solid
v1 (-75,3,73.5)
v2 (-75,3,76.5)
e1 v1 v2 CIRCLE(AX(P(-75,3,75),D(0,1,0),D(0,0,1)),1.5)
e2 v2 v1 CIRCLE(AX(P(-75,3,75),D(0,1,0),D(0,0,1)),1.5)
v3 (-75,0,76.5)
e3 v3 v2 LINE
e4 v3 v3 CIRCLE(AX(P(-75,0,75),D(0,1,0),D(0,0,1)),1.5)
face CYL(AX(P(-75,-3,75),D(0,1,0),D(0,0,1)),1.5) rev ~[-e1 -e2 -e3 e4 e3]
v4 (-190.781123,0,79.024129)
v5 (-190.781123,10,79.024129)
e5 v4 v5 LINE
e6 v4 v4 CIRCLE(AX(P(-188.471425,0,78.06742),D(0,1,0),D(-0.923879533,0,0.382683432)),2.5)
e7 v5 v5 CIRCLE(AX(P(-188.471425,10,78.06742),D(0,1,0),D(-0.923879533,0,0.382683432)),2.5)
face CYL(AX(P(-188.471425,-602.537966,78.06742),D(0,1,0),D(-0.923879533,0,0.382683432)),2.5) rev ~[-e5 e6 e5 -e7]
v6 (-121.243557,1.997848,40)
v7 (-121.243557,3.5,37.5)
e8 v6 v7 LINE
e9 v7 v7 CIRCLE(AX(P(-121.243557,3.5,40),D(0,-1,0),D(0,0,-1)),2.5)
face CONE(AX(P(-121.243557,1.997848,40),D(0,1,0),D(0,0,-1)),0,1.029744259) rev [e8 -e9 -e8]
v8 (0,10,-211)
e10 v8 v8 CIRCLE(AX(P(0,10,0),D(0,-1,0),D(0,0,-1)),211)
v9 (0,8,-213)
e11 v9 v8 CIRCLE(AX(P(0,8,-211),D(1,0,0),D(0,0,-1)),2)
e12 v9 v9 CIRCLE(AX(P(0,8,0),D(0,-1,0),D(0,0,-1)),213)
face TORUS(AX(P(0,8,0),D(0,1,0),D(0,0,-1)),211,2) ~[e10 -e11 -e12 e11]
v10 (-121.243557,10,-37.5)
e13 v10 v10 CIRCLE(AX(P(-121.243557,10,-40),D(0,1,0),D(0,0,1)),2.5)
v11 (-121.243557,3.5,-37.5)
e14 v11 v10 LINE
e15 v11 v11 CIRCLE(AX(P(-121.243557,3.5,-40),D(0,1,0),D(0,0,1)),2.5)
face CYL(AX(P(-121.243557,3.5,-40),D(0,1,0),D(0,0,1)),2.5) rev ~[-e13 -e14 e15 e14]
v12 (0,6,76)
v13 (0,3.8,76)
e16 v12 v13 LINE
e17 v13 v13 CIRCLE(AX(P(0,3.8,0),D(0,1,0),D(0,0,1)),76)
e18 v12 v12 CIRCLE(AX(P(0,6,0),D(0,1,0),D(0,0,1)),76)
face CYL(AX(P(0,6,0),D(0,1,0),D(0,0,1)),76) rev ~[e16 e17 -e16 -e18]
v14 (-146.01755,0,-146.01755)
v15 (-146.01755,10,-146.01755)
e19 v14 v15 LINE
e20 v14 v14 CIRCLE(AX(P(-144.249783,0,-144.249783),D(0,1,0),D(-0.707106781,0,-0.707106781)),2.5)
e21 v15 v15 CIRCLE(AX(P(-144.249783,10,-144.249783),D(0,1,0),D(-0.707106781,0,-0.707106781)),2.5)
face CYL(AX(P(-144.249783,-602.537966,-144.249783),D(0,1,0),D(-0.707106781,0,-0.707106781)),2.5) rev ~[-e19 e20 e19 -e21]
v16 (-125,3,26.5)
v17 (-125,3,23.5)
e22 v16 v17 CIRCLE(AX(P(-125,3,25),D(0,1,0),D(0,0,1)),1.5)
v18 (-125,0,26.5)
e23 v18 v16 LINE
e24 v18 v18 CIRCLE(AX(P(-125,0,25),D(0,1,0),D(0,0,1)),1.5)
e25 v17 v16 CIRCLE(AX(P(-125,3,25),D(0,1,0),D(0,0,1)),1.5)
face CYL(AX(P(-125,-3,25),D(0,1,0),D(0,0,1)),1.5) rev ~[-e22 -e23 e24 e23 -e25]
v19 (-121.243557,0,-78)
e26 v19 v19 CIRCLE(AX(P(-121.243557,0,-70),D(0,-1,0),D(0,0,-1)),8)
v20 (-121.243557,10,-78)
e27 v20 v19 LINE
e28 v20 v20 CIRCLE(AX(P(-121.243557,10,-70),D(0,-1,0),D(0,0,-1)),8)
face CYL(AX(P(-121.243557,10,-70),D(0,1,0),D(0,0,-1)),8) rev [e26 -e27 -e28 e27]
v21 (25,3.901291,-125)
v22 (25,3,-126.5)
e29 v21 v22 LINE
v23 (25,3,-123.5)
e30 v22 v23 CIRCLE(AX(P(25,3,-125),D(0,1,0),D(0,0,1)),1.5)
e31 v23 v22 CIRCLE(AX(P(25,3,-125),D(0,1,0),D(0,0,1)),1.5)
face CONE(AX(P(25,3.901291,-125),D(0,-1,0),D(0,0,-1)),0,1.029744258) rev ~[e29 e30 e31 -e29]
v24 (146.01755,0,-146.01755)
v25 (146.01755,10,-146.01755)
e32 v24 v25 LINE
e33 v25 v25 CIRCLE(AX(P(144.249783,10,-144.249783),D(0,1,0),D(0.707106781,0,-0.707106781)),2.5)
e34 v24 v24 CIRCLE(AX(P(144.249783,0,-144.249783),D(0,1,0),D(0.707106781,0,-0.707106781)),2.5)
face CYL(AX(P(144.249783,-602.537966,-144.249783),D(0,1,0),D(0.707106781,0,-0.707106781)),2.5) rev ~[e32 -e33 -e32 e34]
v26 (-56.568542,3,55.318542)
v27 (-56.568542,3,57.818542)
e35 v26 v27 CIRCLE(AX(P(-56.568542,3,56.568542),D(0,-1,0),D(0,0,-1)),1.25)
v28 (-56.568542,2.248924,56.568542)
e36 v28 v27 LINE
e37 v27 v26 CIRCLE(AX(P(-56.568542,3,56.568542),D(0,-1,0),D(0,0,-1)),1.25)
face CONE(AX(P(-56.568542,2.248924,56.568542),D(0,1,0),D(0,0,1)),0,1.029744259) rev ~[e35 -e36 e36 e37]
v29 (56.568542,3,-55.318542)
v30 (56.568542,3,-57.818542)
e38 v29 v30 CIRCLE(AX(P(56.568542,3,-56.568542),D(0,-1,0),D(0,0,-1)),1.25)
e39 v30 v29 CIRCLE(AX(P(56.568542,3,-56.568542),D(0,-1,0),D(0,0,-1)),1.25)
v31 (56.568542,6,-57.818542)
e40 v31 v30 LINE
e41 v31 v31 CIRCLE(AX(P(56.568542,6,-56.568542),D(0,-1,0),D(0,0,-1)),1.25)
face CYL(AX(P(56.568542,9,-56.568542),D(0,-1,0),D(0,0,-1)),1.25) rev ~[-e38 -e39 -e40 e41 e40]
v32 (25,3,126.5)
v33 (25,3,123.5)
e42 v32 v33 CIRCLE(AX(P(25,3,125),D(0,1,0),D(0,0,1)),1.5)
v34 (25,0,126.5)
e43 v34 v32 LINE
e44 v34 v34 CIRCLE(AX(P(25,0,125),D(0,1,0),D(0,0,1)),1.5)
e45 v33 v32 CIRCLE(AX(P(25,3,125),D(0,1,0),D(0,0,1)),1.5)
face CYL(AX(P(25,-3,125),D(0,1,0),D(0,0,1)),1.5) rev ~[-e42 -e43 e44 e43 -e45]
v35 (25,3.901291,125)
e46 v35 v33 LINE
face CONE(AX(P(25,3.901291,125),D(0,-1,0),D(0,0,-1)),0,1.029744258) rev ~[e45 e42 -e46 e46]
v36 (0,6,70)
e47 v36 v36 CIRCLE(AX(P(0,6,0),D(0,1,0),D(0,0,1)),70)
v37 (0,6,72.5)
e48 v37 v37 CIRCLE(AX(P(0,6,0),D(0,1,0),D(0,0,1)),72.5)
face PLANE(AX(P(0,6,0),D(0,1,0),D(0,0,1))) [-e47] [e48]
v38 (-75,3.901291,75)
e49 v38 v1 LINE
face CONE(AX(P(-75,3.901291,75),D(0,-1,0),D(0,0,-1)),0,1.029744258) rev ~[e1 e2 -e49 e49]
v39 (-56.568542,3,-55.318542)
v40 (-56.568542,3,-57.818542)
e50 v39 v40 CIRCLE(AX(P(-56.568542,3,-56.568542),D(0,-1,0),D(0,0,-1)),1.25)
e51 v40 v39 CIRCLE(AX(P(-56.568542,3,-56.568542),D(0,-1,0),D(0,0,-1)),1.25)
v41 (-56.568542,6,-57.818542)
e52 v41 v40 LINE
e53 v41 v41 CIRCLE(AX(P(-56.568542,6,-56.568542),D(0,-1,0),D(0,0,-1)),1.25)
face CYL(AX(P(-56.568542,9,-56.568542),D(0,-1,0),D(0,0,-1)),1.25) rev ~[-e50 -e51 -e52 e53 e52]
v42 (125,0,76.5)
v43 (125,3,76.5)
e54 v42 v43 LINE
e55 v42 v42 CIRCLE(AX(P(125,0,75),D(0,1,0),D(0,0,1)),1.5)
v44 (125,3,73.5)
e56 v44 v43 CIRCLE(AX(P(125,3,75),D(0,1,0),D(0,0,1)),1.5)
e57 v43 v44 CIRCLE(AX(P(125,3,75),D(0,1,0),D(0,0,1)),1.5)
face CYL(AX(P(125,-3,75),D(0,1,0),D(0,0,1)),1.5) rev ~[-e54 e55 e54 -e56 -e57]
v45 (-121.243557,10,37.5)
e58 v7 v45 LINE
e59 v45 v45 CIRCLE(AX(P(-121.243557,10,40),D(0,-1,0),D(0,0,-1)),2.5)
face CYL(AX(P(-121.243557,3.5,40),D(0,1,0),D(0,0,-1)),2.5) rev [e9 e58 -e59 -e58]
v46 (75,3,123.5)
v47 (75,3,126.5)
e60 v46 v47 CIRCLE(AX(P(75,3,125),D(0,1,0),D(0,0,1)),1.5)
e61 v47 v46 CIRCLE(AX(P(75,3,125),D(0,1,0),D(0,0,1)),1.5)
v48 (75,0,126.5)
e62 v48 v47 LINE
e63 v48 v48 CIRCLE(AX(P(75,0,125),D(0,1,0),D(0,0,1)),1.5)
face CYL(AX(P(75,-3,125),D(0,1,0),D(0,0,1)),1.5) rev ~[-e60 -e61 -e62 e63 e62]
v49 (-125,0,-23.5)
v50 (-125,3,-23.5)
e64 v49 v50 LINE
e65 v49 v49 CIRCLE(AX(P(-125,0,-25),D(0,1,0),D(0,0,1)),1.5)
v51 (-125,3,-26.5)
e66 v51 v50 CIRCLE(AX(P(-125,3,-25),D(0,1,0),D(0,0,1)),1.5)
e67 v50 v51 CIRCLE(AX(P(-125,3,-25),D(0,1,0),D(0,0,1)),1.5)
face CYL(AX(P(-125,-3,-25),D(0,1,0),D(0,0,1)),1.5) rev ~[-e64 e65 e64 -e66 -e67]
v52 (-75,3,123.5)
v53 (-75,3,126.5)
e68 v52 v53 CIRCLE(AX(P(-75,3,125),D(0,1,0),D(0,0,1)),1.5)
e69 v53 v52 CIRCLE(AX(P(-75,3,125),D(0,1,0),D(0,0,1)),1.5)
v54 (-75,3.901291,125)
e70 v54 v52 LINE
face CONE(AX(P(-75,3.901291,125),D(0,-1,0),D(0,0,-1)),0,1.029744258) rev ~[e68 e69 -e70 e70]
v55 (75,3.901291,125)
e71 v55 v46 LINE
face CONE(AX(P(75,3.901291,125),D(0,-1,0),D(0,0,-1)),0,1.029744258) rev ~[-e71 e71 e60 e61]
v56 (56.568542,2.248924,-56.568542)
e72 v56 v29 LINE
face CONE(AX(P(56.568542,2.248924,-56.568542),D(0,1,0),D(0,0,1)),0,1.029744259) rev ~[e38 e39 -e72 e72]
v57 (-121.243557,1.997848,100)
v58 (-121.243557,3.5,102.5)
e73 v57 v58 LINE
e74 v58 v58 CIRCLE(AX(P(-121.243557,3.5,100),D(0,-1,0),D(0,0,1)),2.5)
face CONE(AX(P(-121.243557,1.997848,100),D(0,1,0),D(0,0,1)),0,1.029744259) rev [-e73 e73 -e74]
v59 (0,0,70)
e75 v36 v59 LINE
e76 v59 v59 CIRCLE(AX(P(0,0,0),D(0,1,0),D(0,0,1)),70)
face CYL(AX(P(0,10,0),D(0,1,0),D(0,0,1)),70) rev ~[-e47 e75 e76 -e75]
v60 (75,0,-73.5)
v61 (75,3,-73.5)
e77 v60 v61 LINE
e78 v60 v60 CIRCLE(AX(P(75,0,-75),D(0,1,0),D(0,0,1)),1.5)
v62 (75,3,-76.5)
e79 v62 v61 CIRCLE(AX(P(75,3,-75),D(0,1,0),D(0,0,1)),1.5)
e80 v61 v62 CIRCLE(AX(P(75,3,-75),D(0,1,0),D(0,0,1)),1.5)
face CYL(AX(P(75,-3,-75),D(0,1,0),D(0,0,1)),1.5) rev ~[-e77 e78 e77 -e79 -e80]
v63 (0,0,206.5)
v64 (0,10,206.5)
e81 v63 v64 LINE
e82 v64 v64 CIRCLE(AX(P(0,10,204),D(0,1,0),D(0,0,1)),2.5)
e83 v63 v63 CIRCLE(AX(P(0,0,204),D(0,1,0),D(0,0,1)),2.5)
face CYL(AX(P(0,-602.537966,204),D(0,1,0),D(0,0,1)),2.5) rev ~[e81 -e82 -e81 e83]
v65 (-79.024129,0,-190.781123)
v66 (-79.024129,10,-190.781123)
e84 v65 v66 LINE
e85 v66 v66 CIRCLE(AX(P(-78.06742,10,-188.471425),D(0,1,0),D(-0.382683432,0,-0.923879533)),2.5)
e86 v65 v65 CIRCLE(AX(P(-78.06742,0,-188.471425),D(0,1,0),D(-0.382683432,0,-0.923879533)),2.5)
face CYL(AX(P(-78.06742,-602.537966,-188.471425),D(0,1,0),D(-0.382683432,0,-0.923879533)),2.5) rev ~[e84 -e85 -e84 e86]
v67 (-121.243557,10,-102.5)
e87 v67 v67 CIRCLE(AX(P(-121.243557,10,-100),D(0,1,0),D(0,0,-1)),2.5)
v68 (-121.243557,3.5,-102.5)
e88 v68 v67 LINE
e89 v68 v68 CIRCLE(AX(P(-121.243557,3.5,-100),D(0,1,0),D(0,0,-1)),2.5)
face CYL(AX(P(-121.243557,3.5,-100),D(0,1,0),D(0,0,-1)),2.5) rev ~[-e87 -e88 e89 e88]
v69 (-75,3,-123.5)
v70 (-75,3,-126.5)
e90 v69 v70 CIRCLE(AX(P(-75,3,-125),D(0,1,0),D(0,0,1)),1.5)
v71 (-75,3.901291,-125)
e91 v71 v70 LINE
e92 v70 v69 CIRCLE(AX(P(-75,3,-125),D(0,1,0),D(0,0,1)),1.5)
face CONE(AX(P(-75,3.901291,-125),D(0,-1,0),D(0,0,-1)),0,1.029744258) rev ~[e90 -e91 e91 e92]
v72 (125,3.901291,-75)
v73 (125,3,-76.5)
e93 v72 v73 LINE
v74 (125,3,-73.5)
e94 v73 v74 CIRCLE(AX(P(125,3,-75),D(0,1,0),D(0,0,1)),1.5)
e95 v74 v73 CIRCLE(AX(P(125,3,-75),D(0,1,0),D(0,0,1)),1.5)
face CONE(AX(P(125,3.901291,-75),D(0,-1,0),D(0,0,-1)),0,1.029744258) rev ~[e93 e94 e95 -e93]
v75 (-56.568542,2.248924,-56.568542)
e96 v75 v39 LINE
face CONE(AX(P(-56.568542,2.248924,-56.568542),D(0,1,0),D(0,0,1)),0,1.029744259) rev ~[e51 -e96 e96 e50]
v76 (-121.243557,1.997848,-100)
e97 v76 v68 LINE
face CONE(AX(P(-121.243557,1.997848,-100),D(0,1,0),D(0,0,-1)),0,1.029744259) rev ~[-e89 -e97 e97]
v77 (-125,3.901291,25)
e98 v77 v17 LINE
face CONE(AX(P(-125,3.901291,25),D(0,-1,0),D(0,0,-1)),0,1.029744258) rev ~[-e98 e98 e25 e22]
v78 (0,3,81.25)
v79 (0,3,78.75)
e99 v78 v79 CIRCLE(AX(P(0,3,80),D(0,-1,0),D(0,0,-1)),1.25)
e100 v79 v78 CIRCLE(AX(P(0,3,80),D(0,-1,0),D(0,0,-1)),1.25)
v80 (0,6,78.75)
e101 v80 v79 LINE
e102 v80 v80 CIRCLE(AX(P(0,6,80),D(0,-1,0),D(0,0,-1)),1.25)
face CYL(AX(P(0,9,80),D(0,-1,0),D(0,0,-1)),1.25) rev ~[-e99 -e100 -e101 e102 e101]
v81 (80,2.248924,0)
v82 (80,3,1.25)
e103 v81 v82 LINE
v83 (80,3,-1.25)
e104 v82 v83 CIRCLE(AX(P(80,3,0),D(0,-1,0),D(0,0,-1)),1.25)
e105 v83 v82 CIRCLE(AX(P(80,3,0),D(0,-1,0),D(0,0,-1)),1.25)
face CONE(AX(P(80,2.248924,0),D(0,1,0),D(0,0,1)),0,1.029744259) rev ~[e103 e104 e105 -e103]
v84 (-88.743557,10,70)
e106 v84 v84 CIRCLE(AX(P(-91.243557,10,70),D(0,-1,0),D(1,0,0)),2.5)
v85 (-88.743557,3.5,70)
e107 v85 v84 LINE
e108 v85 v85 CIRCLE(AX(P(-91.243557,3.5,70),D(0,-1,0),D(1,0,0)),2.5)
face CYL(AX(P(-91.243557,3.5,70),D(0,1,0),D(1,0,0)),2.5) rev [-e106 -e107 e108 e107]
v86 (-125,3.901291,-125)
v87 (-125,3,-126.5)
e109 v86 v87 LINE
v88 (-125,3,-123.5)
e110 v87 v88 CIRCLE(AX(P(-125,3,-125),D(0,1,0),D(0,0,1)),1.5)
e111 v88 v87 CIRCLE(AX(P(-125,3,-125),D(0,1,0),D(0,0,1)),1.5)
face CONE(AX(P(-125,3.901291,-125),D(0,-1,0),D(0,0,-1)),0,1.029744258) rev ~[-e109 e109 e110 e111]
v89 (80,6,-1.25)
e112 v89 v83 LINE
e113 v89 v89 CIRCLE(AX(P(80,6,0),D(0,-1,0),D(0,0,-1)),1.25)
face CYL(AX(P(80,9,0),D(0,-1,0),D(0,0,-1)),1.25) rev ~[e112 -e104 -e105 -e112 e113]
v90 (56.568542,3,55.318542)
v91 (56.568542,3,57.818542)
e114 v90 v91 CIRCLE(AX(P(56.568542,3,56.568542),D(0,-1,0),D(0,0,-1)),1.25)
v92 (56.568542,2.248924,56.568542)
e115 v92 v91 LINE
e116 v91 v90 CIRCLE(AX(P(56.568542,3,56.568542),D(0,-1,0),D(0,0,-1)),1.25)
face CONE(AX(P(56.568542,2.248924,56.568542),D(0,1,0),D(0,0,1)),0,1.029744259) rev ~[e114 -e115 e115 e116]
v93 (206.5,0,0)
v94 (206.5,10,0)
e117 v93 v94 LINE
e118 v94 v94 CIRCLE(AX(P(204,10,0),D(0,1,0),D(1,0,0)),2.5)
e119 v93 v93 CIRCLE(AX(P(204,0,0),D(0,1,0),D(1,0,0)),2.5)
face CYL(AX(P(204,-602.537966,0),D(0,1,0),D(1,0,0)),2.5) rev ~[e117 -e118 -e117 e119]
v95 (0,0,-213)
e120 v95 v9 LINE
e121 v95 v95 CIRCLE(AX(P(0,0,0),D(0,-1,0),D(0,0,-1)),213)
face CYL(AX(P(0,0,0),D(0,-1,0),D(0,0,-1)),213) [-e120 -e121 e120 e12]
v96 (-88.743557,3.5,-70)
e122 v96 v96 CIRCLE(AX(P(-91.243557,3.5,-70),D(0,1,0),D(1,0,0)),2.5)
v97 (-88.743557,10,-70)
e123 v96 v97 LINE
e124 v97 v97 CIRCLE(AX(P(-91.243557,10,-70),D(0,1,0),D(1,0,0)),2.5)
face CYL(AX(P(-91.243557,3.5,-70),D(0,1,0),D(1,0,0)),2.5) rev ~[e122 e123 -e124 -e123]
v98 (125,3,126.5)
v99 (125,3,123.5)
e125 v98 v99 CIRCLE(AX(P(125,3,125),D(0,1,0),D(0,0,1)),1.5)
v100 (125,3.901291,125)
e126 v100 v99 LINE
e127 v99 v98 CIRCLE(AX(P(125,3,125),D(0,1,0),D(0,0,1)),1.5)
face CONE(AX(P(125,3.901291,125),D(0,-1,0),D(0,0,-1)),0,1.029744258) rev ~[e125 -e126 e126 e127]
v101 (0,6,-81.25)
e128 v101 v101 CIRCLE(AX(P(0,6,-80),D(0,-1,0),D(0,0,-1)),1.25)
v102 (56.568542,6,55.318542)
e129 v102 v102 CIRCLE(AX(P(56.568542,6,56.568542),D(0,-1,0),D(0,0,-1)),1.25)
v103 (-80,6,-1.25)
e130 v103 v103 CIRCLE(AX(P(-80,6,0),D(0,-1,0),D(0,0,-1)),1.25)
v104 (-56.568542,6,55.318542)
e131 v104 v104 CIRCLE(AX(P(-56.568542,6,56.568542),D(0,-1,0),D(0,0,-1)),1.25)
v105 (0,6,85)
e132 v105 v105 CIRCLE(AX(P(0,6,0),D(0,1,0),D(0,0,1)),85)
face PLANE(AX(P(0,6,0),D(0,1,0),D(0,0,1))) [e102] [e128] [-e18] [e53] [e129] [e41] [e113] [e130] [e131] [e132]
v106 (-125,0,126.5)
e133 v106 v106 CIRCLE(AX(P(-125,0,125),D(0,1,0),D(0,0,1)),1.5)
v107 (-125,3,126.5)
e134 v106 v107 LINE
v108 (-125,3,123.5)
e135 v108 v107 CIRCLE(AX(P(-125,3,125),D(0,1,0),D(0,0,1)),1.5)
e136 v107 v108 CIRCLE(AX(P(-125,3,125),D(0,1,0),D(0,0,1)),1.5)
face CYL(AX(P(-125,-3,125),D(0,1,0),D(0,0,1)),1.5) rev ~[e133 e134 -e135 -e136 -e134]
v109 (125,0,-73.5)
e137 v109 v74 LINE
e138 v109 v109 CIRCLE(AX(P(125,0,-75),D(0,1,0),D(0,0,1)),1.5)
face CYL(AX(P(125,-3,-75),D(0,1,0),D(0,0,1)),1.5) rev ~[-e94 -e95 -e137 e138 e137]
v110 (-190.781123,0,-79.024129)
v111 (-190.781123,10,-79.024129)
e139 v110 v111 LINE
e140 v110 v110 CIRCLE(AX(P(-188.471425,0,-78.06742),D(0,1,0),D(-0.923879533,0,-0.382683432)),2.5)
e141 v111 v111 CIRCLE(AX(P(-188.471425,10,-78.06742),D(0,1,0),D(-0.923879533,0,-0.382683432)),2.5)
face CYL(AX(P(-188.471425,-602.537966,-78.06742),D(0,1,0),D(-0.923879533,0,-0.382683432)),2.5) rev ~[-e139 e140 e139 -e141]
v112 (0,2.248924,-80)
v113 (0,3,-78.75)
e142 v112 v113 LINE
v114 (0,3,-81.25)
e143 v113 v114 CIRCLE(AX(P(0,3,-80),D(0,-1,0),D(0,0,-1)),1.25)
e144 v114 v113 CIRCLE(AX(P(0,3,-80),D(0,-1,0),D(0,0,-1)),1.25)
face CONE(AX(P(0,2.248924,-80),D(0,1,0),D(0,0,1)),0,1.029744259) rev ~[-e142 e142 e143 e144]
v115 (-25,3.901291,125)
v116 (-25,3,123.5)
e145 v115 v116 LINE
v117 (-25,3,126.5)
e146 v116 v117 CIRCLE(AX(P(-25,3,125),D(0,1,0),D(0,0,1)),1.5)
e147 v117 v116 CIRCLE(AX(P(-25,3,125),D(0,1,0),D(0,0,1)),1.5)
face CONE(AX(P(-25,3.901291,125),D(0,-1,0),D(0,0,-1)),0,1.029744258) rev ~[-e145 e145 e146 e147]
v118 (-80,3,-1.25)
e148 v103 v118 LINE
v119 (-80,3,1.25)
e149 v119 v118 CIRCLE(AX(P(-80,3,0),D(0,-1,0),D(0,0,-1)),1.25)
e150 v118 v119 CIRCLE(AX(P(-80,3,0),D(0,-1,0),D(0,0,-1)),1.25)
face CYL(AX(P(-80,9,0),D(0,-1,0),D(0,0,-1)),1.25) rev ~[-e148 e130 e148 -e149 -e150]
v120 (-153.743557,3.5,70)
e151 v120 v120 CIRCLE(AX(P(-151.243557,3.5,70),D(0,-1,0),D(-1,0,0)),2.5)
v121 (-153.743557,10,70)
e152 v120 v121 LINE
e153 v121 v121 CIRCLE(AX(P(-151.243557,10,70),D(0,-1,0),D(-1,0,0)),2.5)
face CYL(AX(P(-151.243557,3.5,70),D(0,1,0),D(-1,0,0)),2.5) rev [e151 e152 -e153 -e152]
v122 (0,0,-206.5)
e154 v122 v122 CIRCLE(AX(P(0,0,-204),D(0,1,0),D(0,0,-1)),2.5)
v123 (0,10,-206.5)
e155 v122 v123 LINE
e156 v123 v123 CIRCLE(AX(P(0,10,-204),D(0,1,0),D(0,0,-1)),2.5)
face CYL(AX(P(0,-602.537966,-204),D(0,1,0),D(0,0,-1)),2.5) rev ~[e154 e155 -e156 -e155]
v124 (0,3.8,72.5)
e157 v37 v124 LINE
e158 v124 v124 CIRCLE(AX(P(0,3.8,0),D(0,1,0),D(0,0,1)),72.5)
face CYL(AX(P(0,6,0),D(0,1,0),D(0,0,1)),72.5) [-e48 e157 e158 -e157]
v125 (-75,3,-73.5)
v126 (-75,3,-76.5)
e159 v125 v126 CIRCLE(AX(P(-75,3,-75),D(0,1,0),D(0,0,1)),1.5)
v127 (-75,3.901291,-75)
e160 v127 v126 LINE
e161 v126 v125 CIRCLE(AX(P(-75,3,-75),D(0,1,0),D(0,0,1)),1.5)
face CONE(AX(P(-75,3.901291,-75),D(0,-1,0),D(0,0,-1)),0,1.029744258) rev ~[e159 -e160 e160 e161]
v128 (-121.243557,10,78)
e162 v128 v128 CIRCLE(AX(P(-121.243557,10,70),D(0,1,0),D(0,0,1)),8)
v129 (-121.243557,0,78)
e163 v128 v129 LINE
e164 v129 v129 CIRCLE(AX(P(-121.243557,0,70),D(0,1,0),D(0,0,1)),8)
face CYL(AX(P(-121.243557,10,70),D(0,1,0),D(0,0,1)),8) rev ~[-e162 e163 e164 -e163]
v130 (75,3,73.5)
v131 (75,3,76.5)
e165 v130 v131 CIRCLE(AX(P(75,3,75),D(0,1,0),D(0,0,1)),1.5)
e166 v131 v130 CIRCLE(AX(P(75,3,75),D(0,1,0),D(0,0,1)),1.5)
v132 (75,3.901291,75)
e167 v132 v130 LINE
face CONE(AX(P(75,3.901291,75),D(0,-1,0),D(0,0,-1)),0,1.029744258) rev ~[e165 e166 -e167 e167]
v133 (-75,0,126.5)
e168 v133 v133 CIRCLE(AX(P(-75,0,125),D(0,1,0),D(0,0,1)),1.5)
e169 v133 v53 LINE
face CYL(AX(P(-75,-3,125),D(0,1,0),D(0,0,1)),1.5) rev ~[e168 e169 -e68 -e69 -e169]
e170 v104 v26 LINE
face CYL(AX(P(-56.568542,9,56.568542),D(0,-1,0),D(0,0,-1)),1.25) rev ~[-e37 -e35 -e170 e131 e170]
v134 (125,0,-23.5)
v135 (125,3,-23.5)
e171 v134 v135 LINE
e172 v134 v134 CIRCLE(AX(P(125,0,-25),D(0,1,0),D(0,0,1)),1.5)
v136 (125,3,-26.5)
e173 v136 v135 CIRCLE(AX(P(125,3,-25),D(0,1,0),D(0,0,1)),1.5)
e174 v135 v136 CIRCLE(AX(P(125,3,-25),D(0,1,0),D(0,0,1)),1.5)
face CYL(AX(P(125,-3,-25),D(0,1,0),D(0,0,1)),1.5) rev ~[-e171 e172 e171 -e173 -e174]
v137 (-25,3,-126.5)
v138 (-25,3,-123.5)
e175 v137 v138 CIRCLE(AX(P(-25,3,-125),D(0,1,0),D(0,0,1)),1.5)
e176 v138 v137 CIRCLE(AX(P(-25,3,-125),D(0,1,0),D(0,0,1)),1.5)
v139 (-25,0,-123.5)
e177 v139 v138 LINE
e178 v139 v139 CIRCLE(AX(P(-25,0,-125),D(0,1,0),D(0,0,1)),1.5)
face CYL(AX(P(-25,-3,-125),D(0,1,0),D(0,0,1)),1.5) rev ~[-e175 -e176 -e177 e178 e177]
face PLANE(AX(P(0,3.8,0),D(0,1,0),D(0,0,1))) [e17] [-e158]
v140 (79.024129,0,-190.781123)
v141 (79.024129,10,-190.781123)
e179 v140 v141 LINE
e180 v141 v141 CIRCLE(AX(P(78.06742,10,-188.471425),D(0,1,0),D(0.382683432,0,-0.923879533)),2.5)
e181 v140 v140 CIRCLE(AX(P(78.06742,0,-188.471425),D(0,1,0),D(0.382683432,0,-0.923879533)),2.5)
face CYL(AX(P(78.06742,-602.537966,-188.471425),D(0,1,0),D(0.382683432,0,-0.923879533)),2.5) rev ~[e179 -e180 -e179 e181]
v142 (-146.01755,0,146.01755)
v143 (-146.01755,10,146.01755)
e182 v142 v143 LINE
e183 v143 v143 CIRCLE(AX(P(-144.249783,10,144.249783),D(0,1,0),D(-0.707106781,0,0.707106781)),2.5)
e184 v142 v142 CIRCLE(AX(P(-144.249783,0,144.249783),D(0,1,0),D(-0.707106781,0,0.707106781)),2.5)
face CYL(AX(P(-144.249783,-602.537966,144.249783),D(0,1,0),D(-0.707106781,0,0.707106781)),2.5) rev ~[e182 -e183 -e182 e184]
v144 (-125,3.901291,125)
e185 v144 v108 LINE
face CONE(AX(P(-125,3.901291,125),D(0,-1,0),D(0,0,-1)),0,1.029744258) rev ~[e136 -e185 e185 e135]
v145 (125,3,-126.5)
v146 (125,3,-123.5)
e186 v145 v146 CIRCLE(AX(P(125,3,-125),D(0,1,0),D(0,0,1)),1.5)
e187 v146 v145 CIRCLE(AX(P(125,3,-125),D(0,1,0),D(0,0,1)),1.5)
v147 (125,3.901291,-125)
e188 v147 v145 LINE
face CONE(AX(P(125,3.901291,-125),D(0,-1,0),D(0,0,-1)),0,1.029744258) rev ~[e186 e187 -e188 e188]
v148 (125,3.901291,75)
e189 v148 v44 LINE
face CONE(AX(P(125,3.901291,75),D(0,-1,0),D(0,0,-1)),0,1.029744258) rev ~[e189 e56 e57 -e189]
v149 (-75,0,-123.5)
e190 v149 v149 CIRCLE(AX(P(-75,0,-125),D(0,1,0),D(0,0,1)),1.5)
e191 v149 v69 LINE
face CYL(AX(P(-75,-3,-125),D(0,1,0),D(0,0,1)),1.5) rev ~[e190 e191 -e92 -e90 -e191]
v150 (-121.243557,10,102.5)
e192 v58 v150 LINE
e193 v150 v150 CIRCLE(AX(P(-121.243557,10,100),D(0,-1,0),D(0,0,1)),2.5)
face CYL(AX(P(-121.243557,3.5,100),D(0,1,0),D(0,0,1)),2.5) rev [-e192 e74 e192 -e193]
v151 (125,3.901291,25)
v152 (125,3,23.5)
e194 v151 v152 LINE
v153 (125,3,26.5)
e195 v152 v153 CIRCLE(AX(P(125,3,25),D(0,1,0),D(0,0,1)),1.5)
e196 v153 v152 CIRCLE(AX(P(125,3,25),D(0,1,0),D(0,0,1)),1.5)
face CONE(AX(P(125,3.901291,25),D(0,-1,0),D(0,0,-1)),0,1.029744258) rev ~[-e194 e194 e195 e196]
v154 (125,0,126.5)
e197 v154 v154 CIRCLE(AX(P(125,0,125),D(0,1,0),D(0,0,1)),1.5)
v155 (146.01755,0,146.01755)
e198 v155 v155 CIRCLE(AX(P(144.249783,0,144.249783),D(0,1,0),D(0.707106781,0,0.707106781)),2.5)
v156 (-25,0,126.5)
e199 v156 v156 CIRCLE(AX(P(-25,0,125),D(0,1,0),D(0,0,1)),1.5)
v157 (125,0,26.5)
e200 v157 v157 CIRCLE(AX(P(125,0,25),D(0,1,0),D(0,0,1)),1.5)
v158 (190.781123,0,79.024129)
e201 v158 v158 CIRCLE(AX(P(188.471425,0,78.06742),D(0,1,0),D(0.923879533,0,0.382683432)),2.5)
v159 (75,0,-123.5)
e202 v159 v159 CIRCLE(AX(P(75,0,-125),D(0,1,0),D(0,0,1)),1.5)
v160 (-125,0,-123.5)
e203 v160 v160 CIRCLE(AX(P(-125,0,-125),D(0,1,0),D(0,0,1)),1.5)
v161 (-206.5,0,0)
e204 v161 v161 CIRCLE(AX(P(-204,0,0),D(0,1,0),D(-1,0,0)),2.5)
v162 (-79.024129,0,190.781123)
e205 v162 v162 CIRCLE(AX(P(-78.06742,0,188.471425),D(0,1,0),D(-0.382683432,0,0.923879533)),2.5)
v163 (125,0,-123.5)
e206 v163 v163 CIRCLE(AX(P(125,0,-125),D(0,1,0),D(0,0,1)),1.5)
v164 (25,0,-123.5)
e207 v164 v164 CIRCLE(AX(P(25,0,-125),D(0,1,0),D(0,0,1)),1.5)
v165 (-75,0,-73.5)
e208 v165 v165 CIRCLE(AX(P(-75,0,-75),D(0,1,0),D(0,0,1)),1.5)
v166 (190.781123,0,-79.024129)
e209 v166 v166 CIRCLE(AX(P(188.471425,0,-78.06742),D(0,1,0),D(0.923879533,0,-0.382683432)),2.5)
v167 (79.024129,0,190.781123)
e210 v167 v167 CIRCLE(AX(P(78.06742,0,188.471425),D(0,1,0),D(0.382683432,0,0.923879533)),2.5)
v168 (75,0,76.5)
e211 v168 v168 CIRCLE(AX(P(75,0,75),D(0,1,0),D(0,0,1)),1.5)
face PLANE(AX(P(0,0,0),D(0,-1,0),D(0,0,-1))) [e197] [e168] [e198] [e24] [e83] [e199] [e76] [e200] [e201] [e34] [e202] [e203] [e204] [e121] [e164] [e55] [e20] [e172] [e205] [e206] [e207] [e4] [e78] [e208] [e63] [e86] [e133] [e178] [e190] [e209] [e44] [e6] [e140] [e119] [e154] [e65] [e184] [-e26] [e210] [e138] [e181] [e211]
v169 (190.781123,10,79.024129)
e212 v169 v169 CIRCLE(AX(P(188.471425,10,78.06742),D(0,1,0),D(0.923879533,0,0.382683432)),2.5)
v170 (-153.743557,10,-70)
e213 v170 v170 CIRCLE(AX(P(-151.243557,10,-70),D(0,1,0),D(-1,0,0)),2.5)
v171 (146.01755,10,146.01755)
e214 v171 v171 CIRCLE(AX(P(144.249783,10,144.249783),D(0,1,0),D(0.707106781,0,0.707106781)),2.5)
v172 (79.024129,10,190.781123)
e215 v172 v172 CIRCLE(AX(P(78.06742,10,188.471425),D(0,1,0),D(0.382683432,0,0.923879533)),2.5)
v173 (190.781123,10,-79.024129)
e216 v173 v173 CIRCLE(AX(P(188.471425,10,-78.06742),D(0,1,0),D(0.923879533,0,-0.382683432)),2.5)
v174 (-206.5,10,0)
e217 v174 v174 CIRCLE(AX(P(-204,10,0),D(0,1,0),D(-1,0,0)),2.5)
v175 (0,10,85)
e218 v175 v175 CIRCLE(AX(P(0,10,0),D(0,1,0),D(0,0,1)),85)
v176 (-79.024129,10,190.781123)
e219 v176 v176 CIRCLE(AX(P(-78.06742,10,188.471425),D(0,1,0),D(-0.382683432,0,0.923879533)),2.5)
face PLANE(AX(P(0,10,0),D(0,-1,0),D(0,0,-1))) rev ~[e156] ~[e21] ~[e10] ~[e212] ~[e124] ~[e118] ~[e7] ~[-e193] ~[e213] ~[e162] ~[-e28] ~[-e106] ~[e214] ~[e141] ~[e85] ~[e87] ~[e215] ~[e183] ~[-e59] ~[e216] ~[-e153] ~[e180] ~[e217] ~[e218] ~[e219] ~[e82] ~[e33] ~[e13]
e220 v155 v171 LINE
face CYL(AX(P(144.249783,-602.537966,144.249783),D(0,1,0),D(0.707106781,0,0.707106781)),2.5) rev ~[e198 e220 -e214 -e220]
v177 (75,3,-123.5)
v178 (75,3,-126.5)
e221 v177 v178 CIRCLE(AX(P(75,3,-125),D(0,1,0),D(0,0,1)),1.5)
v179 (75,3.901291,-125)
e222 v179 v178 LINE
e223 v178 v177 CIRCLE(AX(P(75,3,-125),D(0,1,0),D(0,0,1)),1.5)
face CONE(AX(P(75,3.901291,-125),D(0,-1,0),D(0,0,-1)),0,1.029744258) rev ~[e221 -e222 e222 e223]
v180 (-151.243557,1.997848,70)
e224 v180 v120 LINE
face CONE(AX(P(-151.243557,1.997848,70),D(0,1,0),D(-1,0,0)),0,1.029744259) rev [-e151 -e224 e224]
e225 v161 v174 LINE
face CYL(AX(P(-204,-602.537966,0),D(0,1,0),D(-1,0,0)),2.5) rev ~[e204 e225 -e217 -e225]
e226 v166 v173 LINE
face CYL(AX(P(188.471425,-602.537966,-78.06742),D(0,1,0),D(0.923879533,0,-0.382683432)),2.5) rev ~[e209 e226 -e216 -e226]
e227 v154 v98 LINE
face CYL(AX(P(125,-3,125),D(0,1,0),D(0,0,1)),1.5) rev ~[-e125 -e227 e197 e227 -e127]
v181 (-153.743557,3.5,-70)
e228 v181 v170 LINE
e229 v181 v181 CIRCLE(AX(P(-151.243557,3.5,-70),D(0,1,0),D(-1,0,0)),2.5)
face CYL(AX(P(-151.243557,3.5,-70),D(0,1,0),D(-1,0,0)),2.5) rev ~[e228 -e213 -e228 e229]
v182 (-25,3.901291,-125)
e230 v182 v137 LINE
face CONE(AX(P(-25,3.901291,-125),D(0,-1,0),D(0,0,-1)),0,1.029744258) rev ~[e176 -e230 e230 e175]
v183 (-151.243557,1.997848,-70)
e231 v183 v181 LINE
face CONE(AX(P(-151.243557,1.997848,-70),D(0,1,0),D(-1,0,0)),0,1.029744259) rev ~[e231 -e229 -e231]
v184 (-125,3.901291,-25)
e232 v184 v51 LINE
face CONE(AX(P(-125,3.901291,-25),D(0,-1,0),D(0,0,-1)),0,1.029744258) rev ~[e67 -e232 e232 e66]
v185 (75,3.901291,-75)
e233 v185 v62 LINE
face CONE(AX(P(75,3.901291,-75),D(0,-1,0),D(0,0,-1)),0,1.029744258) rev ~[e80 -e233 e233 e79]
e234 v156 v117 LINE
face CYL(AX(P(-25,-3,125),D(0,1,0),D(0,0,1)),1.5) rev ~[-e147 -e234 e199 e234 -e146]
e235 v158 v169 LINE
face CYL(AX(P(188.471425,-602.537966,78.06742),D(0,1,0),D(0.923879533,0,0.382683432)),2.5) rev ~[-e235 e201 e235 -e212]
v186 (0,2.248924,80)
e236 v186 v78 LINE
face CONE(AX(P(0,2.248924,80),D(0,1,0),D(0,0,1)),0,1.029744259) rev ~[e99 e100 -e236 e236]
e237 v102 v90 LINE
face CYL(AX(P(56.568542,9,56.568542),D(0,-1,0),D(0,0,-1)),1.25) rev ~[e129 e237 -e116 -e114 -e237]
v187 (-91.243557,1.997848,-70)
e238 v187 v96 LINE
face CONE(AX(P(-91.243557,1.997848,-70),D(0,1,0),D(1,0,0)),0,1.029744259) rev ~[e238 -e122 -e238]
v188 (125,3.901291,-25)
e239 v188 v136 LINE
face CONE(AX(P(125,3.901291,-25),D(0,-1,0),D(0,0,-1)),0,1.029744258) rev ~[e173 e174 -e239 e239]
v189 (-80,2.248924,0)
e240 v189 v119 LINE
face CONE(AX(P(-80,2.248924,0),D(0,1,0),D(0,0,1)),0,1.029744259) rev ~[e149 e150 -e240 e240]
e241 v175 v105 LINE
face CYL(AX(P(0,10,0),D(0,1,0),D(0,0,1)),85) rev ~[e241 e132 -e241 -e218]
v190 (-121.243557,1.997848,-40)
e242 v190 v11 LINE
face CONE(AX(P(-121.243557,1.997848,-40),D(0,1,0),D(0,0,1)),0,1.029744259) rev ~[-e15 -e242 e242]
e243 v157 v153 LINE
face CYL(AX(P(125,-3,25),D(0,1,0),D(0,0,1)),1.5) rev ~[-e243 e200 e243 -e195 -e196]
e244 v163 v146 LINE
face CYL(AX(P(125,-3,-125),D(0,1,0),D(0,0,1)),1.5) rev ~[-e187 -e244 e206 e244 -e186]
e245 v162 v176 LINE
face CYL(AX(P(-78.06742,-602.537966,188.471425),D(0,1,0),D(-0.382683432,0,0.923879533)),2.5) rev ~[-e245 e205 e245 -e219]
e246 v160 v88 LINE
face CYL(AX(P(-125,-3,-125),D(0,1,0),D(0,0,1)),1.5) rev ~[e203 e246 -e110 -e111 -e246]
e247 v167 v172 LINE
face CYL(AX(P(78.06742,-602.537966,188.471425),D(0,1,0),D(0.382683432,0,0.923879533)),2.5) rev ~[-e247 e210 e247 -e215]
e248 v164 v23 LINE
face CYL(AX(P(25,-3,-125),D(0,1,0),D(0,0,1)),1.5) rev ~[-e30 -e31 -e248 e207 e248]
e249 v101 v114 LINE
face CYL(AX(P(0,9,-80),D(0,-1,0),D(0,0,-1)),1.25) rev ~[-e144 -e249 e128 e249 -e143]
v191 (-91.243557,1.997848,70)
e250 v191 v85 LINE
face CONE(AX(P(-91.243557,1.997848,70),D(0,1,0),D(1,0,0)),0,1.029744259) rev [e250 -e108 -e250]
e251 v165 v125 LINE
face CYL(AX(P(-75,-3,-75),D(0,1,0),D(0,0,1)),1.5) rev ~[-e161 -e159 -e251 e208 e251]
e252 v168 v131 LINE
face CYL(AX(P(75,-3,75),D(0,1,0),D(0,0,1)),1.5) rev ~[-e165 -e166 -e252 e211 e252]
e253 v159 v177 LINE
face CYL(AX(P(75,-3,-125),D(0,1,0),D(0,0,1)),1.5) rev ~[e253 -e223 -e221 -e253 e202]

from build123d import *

# Parameters (mm, degrees)
SKETCH_1_R               = 195
EXTRUDE_1_DEPTH          = 10
SKETCH_3_R               = 213
SKETCH_3_R_2             = 195
EXTRUDE_2_DEPTH          = 10
HOLE_WIZARD_M6_1_D       = 5
PATTERN_CIRCULAR_1_COUNT = 16
SKETCH_6_R               = 70
CUT_EXTRUDE_2_DEPTH      = 10
SKETCH_7_R               = 85
CUT_EXTRUDE_3_DEPTH      = 4
SKETCH_9_R               = 76
SKETCH_9_R_2             = 72.5
CUT_EXTRUDE_5_DEPTH      = 2.2
HOLE_WIZARD_M3_2_D       = 2.5
HOLE_WIZARD_M3_2_DEPTH   = 3
HOLE_WIZARD_M3_2_TIP     = 0.751075774
FILLET_1_R               = 2
HOLE_WIZARD_M3_3_D       = 3
HOLE_WIZARD_M3_3_DEPTH   = 3
HOLE_WIZARD_M3_3_TIP     = 0.901290929
SKETCH_33_R              = 8
CUT_EXTRUDE_6_DEPTH      = 10
PATTERN_CIRCULAR_2_COUNT = 4


with BuildPart() as part:
    # 草图1 → 凸台-拉伸1 (new body)
    with BuildSketch(Plane(origin=(0, 0, 0), x_dir=(1, 0, 0), z_dir=(0, 1, 0))):
        Circle(SKETCH_1_R)
    extrude(amount=EXTRUDE_1_DEPTH)

    # 草图3 → 凸台-拉伸2 (add)
    with BuildSketch(Plane.XZ):
        Circle(SKETCH_3_R)
        Circle(SKETCH_3_R_2, mode=Mode.SUBTRACT)
    extrude(amount=-EXTRUDE_2_DEPTH)

    # M6 螺纹孔1 (through all)
    with Locations(Plane(origin=(0, 0, 204), x_dir=(0, 0, -1), z_dir=(0, -1, 0))):
        with Locations((0, 0)):
            hole_wizard_m6_1 = Hole(HOLE_WIZARD_M6_1_D / 2)

    # 阵列(圆周)1: M6 螺纹孔1 ×16 about axis
    pattern_circular_1_axis = Axis((0, 0, 0), (0, -1, 0))
    for i in range(1, PATTERN_CIRCULAR_1_COUNT):
        add(hole_wizard_m6_1.rotate(pattern_circular_1_axis, i * 360 / PATTERN_CIRCULAR_1_COUNT), mode=Mode.SUBTRACT)

    # 草图6 → 切除-拉伸2 (cut)
    with BuildSketch(Plane(origin=(0, 10, 0), x_dir=(1, 0, 0), z_dir=(0, 1, 0))):
        Circle(SKETCH_6_R)
    extrude(amount=-CUT_EXTRUDE_2_DEPTH, mode=Mode.SUBTRACT)

    # 草图7 → 切除-拉伸3 (cut)
    with BuildSketch(Plane(origin=(0, 10, 0), x_dir=(1, 0, 0), z_dir=(0, 1, 0))):
        Circle(SKETCH_7_R)
    extrude(amount=-CUT_EXTRUDE_3_DEPTH, mode=Mode.SUBTRACT)

    # 草图9 → 切除-拉伸5 (cut)
    with BuildSketch(Plane(origin=(0, 6, 0), x_dir=(1, 0, 0), z_dir=(0, 1, 0))):
        Circle(SKETCH_9_R)
        Circle(SKETCH_9_R_2, mode=Mode.SUBTRACT)
    extrude(amount=-CUT_EXTRUDE_5_DEPTH, mode=Mode.SUBTRACT)

    # M3 螺纹孔2
    with Locations(Plane(origin=(0, 6, 80), x_dir=(0, 0, 1), z_dir=(0, 1, 0))):
        with Locations((0, 0), (-23.431457505, 56.568542495), (-80, 80), (-136.568542495, 56.568542495), (-160, 0), (-136.568542495, -56.568542495), (-80, -80), (-23.431457505, -56.568542495)):
            Hole(HOLE_WIZARD_M3_2_D / 2, depth=HOLE_WIZARD_M3_2_DEPTH)
            with Locations((0, 0, -(HOLE_WIZARD_M3_2_DEPTH + HOLE_WIZARD_M3_2_TIP / 2))):  # 118° drill point
                Cone(0, HOLE_WIZARD_M3_2_D / 2, HOLE_WIZARD_M3_2_TIP, mode=Mode.SUBTRACT)

    # 圆角1
    fillet_1_edges = [part.edges().sort_by_distance(p)[0] for p in [
        (-213, 10, 0),
    ]]
    fillet(fillet_1_edges, radius=FILLET_1_R)

    # M3 螺纹孔3
    with Locations(Plane(origin=(125, 0, -125), x_dir=(0, 0, -1), z_dir=(0, -1, 0))):
        with Locations((0, 0), (0, -50), (0, -100), (0, -150), (0, -200), (0, -250), (-50, 0), (-50, -50), (-100, 0), (-50, -200), (-100, -250), (-150, -250), (-200, -200), (-250, -200), (-250, -250), (-250, -50), (-250, -100), (-250, -150), (-250, 0), (-200, 0), (-200, -50), (-150, 0)):
            Hole(HOLE_WIZARD_M3_3_D / 2, depth=HOLE_WIZARD_M3_3_DEPTH)
            with Locations((0, 0, -(HOLE_WIZARD_M3_3_DEPTH + HOLE_WIZARD_M3_3_TIP / 2))):  # 118° drill point
                Cone(0, HOLE_WIZARD_M3_3_D / 2, HOLE_WIZARD_M3_3_TIP, mode=Mode.SUBTRACT)

    # 草图33 → 切除-拉伸6 (cut)
    with BuildSketch(Plane(origin=(0, 10, 0), x_dir=(1, 0, 0), z_dir=(0, 1, 0))):
        with Locations((-121.24355653, -70)):
            Circle(SKETCH_33_R)
    cut_extrude_6 = extrude(amount=-CUT_EXTRUDE_6_DEPTH, mode=Mode.SUBTRACT)

    # 草图37 → M6 螺纹孔3 (revolve, cut)
    with BuildSketch(Plane(origin=(-121.24355653, 10, 100), x_dir=(0, 0, 1), z_dir=(1, 0, 0))):
        Polygon((0, 0), (0, 8.002151548), (2.5, 6.5), (2.5, 0), align=None)
    hole_wizard_m6_3 = revolve(axis=Axis((-121.24355653, 16.35, 100), (0, -1, 0)), mode=Mode.SUBTRACT)

    # 阵列(圆周)2: M6 螺纹孔3 ×4 about axis
    pattern_circular_2_axis = Axis((-121.24355653, 0, 70), (0, 1, 0))
    for i in range(1, PATTERN_CIRCULAR_2_COUNT):
        add(hole_wizard_m6_3.rotate(pattern_circular_2_axis, i * 360 / PATTERN_CIRCULAR_2_COUNT), mode=Mode.SUBTRACT)

    # 镜向1: 切除-拉伸6, M6 螺纹孔3 across plane
    add(cut_extrude_6.mirror(Plane.XY), mode=Mode.SUBTRACT)
    add(hole_wizard_m6_3.mirror(Plane.XY), mode=Mode.SUBTRACT)

    # 镜向1 copy 1 sketch → 镜向1 copy 1 (revolve, cut)
    with BuildSketch(Plane(origin=(-91.24355653, 10, -70), x_dir=(1, 0, 0), z_dir=(0, 0, 1))):
        Polygon((0, 0), (0, -8.002151548), (2.5, -6.5), (2.5, 0), align=None)
    revolve(axis=Axis((-91.24355653, 16.35, -70), (0, 1, 0)), mode=Mode.SUBTRACT)

    # 镜向1 copy 2 sketch → 镜向1 copy 2 (revolve, cut)
    with BuildSketch(Plane(origin=(-121.24355653, 10, -40), x_dir=(0, 0, 1), z_dir=(-1, 0, 0))):
        Polygon((0, 0), (0, -8.002151548), (2.5, -6.5), (2.5, 0), align=None)
    revolve(axis=Axis((-121.24355653, 16.35, -40), (0, 1, 0)), mode=Mode.SUBTRACT)

    # 镜向1 copy 3 sketch → 镜向1 copy 3 (revolve, cut)
    with BuildSketch(Plane(origin=(-151.24355653, 10, -70), x_dir=(-1, 0, 0), z_dir=(0, 0, -1))):
        Polygon((0, 0), (0, -8.002151548), (2.5, -6.5), (2.5, 0), align=None)
    revolve(axis=Axis((-151.24355653, 16.35, -70), (0, 1, 0)), mode=Mode.SUBTRACT)


solid = part.part
